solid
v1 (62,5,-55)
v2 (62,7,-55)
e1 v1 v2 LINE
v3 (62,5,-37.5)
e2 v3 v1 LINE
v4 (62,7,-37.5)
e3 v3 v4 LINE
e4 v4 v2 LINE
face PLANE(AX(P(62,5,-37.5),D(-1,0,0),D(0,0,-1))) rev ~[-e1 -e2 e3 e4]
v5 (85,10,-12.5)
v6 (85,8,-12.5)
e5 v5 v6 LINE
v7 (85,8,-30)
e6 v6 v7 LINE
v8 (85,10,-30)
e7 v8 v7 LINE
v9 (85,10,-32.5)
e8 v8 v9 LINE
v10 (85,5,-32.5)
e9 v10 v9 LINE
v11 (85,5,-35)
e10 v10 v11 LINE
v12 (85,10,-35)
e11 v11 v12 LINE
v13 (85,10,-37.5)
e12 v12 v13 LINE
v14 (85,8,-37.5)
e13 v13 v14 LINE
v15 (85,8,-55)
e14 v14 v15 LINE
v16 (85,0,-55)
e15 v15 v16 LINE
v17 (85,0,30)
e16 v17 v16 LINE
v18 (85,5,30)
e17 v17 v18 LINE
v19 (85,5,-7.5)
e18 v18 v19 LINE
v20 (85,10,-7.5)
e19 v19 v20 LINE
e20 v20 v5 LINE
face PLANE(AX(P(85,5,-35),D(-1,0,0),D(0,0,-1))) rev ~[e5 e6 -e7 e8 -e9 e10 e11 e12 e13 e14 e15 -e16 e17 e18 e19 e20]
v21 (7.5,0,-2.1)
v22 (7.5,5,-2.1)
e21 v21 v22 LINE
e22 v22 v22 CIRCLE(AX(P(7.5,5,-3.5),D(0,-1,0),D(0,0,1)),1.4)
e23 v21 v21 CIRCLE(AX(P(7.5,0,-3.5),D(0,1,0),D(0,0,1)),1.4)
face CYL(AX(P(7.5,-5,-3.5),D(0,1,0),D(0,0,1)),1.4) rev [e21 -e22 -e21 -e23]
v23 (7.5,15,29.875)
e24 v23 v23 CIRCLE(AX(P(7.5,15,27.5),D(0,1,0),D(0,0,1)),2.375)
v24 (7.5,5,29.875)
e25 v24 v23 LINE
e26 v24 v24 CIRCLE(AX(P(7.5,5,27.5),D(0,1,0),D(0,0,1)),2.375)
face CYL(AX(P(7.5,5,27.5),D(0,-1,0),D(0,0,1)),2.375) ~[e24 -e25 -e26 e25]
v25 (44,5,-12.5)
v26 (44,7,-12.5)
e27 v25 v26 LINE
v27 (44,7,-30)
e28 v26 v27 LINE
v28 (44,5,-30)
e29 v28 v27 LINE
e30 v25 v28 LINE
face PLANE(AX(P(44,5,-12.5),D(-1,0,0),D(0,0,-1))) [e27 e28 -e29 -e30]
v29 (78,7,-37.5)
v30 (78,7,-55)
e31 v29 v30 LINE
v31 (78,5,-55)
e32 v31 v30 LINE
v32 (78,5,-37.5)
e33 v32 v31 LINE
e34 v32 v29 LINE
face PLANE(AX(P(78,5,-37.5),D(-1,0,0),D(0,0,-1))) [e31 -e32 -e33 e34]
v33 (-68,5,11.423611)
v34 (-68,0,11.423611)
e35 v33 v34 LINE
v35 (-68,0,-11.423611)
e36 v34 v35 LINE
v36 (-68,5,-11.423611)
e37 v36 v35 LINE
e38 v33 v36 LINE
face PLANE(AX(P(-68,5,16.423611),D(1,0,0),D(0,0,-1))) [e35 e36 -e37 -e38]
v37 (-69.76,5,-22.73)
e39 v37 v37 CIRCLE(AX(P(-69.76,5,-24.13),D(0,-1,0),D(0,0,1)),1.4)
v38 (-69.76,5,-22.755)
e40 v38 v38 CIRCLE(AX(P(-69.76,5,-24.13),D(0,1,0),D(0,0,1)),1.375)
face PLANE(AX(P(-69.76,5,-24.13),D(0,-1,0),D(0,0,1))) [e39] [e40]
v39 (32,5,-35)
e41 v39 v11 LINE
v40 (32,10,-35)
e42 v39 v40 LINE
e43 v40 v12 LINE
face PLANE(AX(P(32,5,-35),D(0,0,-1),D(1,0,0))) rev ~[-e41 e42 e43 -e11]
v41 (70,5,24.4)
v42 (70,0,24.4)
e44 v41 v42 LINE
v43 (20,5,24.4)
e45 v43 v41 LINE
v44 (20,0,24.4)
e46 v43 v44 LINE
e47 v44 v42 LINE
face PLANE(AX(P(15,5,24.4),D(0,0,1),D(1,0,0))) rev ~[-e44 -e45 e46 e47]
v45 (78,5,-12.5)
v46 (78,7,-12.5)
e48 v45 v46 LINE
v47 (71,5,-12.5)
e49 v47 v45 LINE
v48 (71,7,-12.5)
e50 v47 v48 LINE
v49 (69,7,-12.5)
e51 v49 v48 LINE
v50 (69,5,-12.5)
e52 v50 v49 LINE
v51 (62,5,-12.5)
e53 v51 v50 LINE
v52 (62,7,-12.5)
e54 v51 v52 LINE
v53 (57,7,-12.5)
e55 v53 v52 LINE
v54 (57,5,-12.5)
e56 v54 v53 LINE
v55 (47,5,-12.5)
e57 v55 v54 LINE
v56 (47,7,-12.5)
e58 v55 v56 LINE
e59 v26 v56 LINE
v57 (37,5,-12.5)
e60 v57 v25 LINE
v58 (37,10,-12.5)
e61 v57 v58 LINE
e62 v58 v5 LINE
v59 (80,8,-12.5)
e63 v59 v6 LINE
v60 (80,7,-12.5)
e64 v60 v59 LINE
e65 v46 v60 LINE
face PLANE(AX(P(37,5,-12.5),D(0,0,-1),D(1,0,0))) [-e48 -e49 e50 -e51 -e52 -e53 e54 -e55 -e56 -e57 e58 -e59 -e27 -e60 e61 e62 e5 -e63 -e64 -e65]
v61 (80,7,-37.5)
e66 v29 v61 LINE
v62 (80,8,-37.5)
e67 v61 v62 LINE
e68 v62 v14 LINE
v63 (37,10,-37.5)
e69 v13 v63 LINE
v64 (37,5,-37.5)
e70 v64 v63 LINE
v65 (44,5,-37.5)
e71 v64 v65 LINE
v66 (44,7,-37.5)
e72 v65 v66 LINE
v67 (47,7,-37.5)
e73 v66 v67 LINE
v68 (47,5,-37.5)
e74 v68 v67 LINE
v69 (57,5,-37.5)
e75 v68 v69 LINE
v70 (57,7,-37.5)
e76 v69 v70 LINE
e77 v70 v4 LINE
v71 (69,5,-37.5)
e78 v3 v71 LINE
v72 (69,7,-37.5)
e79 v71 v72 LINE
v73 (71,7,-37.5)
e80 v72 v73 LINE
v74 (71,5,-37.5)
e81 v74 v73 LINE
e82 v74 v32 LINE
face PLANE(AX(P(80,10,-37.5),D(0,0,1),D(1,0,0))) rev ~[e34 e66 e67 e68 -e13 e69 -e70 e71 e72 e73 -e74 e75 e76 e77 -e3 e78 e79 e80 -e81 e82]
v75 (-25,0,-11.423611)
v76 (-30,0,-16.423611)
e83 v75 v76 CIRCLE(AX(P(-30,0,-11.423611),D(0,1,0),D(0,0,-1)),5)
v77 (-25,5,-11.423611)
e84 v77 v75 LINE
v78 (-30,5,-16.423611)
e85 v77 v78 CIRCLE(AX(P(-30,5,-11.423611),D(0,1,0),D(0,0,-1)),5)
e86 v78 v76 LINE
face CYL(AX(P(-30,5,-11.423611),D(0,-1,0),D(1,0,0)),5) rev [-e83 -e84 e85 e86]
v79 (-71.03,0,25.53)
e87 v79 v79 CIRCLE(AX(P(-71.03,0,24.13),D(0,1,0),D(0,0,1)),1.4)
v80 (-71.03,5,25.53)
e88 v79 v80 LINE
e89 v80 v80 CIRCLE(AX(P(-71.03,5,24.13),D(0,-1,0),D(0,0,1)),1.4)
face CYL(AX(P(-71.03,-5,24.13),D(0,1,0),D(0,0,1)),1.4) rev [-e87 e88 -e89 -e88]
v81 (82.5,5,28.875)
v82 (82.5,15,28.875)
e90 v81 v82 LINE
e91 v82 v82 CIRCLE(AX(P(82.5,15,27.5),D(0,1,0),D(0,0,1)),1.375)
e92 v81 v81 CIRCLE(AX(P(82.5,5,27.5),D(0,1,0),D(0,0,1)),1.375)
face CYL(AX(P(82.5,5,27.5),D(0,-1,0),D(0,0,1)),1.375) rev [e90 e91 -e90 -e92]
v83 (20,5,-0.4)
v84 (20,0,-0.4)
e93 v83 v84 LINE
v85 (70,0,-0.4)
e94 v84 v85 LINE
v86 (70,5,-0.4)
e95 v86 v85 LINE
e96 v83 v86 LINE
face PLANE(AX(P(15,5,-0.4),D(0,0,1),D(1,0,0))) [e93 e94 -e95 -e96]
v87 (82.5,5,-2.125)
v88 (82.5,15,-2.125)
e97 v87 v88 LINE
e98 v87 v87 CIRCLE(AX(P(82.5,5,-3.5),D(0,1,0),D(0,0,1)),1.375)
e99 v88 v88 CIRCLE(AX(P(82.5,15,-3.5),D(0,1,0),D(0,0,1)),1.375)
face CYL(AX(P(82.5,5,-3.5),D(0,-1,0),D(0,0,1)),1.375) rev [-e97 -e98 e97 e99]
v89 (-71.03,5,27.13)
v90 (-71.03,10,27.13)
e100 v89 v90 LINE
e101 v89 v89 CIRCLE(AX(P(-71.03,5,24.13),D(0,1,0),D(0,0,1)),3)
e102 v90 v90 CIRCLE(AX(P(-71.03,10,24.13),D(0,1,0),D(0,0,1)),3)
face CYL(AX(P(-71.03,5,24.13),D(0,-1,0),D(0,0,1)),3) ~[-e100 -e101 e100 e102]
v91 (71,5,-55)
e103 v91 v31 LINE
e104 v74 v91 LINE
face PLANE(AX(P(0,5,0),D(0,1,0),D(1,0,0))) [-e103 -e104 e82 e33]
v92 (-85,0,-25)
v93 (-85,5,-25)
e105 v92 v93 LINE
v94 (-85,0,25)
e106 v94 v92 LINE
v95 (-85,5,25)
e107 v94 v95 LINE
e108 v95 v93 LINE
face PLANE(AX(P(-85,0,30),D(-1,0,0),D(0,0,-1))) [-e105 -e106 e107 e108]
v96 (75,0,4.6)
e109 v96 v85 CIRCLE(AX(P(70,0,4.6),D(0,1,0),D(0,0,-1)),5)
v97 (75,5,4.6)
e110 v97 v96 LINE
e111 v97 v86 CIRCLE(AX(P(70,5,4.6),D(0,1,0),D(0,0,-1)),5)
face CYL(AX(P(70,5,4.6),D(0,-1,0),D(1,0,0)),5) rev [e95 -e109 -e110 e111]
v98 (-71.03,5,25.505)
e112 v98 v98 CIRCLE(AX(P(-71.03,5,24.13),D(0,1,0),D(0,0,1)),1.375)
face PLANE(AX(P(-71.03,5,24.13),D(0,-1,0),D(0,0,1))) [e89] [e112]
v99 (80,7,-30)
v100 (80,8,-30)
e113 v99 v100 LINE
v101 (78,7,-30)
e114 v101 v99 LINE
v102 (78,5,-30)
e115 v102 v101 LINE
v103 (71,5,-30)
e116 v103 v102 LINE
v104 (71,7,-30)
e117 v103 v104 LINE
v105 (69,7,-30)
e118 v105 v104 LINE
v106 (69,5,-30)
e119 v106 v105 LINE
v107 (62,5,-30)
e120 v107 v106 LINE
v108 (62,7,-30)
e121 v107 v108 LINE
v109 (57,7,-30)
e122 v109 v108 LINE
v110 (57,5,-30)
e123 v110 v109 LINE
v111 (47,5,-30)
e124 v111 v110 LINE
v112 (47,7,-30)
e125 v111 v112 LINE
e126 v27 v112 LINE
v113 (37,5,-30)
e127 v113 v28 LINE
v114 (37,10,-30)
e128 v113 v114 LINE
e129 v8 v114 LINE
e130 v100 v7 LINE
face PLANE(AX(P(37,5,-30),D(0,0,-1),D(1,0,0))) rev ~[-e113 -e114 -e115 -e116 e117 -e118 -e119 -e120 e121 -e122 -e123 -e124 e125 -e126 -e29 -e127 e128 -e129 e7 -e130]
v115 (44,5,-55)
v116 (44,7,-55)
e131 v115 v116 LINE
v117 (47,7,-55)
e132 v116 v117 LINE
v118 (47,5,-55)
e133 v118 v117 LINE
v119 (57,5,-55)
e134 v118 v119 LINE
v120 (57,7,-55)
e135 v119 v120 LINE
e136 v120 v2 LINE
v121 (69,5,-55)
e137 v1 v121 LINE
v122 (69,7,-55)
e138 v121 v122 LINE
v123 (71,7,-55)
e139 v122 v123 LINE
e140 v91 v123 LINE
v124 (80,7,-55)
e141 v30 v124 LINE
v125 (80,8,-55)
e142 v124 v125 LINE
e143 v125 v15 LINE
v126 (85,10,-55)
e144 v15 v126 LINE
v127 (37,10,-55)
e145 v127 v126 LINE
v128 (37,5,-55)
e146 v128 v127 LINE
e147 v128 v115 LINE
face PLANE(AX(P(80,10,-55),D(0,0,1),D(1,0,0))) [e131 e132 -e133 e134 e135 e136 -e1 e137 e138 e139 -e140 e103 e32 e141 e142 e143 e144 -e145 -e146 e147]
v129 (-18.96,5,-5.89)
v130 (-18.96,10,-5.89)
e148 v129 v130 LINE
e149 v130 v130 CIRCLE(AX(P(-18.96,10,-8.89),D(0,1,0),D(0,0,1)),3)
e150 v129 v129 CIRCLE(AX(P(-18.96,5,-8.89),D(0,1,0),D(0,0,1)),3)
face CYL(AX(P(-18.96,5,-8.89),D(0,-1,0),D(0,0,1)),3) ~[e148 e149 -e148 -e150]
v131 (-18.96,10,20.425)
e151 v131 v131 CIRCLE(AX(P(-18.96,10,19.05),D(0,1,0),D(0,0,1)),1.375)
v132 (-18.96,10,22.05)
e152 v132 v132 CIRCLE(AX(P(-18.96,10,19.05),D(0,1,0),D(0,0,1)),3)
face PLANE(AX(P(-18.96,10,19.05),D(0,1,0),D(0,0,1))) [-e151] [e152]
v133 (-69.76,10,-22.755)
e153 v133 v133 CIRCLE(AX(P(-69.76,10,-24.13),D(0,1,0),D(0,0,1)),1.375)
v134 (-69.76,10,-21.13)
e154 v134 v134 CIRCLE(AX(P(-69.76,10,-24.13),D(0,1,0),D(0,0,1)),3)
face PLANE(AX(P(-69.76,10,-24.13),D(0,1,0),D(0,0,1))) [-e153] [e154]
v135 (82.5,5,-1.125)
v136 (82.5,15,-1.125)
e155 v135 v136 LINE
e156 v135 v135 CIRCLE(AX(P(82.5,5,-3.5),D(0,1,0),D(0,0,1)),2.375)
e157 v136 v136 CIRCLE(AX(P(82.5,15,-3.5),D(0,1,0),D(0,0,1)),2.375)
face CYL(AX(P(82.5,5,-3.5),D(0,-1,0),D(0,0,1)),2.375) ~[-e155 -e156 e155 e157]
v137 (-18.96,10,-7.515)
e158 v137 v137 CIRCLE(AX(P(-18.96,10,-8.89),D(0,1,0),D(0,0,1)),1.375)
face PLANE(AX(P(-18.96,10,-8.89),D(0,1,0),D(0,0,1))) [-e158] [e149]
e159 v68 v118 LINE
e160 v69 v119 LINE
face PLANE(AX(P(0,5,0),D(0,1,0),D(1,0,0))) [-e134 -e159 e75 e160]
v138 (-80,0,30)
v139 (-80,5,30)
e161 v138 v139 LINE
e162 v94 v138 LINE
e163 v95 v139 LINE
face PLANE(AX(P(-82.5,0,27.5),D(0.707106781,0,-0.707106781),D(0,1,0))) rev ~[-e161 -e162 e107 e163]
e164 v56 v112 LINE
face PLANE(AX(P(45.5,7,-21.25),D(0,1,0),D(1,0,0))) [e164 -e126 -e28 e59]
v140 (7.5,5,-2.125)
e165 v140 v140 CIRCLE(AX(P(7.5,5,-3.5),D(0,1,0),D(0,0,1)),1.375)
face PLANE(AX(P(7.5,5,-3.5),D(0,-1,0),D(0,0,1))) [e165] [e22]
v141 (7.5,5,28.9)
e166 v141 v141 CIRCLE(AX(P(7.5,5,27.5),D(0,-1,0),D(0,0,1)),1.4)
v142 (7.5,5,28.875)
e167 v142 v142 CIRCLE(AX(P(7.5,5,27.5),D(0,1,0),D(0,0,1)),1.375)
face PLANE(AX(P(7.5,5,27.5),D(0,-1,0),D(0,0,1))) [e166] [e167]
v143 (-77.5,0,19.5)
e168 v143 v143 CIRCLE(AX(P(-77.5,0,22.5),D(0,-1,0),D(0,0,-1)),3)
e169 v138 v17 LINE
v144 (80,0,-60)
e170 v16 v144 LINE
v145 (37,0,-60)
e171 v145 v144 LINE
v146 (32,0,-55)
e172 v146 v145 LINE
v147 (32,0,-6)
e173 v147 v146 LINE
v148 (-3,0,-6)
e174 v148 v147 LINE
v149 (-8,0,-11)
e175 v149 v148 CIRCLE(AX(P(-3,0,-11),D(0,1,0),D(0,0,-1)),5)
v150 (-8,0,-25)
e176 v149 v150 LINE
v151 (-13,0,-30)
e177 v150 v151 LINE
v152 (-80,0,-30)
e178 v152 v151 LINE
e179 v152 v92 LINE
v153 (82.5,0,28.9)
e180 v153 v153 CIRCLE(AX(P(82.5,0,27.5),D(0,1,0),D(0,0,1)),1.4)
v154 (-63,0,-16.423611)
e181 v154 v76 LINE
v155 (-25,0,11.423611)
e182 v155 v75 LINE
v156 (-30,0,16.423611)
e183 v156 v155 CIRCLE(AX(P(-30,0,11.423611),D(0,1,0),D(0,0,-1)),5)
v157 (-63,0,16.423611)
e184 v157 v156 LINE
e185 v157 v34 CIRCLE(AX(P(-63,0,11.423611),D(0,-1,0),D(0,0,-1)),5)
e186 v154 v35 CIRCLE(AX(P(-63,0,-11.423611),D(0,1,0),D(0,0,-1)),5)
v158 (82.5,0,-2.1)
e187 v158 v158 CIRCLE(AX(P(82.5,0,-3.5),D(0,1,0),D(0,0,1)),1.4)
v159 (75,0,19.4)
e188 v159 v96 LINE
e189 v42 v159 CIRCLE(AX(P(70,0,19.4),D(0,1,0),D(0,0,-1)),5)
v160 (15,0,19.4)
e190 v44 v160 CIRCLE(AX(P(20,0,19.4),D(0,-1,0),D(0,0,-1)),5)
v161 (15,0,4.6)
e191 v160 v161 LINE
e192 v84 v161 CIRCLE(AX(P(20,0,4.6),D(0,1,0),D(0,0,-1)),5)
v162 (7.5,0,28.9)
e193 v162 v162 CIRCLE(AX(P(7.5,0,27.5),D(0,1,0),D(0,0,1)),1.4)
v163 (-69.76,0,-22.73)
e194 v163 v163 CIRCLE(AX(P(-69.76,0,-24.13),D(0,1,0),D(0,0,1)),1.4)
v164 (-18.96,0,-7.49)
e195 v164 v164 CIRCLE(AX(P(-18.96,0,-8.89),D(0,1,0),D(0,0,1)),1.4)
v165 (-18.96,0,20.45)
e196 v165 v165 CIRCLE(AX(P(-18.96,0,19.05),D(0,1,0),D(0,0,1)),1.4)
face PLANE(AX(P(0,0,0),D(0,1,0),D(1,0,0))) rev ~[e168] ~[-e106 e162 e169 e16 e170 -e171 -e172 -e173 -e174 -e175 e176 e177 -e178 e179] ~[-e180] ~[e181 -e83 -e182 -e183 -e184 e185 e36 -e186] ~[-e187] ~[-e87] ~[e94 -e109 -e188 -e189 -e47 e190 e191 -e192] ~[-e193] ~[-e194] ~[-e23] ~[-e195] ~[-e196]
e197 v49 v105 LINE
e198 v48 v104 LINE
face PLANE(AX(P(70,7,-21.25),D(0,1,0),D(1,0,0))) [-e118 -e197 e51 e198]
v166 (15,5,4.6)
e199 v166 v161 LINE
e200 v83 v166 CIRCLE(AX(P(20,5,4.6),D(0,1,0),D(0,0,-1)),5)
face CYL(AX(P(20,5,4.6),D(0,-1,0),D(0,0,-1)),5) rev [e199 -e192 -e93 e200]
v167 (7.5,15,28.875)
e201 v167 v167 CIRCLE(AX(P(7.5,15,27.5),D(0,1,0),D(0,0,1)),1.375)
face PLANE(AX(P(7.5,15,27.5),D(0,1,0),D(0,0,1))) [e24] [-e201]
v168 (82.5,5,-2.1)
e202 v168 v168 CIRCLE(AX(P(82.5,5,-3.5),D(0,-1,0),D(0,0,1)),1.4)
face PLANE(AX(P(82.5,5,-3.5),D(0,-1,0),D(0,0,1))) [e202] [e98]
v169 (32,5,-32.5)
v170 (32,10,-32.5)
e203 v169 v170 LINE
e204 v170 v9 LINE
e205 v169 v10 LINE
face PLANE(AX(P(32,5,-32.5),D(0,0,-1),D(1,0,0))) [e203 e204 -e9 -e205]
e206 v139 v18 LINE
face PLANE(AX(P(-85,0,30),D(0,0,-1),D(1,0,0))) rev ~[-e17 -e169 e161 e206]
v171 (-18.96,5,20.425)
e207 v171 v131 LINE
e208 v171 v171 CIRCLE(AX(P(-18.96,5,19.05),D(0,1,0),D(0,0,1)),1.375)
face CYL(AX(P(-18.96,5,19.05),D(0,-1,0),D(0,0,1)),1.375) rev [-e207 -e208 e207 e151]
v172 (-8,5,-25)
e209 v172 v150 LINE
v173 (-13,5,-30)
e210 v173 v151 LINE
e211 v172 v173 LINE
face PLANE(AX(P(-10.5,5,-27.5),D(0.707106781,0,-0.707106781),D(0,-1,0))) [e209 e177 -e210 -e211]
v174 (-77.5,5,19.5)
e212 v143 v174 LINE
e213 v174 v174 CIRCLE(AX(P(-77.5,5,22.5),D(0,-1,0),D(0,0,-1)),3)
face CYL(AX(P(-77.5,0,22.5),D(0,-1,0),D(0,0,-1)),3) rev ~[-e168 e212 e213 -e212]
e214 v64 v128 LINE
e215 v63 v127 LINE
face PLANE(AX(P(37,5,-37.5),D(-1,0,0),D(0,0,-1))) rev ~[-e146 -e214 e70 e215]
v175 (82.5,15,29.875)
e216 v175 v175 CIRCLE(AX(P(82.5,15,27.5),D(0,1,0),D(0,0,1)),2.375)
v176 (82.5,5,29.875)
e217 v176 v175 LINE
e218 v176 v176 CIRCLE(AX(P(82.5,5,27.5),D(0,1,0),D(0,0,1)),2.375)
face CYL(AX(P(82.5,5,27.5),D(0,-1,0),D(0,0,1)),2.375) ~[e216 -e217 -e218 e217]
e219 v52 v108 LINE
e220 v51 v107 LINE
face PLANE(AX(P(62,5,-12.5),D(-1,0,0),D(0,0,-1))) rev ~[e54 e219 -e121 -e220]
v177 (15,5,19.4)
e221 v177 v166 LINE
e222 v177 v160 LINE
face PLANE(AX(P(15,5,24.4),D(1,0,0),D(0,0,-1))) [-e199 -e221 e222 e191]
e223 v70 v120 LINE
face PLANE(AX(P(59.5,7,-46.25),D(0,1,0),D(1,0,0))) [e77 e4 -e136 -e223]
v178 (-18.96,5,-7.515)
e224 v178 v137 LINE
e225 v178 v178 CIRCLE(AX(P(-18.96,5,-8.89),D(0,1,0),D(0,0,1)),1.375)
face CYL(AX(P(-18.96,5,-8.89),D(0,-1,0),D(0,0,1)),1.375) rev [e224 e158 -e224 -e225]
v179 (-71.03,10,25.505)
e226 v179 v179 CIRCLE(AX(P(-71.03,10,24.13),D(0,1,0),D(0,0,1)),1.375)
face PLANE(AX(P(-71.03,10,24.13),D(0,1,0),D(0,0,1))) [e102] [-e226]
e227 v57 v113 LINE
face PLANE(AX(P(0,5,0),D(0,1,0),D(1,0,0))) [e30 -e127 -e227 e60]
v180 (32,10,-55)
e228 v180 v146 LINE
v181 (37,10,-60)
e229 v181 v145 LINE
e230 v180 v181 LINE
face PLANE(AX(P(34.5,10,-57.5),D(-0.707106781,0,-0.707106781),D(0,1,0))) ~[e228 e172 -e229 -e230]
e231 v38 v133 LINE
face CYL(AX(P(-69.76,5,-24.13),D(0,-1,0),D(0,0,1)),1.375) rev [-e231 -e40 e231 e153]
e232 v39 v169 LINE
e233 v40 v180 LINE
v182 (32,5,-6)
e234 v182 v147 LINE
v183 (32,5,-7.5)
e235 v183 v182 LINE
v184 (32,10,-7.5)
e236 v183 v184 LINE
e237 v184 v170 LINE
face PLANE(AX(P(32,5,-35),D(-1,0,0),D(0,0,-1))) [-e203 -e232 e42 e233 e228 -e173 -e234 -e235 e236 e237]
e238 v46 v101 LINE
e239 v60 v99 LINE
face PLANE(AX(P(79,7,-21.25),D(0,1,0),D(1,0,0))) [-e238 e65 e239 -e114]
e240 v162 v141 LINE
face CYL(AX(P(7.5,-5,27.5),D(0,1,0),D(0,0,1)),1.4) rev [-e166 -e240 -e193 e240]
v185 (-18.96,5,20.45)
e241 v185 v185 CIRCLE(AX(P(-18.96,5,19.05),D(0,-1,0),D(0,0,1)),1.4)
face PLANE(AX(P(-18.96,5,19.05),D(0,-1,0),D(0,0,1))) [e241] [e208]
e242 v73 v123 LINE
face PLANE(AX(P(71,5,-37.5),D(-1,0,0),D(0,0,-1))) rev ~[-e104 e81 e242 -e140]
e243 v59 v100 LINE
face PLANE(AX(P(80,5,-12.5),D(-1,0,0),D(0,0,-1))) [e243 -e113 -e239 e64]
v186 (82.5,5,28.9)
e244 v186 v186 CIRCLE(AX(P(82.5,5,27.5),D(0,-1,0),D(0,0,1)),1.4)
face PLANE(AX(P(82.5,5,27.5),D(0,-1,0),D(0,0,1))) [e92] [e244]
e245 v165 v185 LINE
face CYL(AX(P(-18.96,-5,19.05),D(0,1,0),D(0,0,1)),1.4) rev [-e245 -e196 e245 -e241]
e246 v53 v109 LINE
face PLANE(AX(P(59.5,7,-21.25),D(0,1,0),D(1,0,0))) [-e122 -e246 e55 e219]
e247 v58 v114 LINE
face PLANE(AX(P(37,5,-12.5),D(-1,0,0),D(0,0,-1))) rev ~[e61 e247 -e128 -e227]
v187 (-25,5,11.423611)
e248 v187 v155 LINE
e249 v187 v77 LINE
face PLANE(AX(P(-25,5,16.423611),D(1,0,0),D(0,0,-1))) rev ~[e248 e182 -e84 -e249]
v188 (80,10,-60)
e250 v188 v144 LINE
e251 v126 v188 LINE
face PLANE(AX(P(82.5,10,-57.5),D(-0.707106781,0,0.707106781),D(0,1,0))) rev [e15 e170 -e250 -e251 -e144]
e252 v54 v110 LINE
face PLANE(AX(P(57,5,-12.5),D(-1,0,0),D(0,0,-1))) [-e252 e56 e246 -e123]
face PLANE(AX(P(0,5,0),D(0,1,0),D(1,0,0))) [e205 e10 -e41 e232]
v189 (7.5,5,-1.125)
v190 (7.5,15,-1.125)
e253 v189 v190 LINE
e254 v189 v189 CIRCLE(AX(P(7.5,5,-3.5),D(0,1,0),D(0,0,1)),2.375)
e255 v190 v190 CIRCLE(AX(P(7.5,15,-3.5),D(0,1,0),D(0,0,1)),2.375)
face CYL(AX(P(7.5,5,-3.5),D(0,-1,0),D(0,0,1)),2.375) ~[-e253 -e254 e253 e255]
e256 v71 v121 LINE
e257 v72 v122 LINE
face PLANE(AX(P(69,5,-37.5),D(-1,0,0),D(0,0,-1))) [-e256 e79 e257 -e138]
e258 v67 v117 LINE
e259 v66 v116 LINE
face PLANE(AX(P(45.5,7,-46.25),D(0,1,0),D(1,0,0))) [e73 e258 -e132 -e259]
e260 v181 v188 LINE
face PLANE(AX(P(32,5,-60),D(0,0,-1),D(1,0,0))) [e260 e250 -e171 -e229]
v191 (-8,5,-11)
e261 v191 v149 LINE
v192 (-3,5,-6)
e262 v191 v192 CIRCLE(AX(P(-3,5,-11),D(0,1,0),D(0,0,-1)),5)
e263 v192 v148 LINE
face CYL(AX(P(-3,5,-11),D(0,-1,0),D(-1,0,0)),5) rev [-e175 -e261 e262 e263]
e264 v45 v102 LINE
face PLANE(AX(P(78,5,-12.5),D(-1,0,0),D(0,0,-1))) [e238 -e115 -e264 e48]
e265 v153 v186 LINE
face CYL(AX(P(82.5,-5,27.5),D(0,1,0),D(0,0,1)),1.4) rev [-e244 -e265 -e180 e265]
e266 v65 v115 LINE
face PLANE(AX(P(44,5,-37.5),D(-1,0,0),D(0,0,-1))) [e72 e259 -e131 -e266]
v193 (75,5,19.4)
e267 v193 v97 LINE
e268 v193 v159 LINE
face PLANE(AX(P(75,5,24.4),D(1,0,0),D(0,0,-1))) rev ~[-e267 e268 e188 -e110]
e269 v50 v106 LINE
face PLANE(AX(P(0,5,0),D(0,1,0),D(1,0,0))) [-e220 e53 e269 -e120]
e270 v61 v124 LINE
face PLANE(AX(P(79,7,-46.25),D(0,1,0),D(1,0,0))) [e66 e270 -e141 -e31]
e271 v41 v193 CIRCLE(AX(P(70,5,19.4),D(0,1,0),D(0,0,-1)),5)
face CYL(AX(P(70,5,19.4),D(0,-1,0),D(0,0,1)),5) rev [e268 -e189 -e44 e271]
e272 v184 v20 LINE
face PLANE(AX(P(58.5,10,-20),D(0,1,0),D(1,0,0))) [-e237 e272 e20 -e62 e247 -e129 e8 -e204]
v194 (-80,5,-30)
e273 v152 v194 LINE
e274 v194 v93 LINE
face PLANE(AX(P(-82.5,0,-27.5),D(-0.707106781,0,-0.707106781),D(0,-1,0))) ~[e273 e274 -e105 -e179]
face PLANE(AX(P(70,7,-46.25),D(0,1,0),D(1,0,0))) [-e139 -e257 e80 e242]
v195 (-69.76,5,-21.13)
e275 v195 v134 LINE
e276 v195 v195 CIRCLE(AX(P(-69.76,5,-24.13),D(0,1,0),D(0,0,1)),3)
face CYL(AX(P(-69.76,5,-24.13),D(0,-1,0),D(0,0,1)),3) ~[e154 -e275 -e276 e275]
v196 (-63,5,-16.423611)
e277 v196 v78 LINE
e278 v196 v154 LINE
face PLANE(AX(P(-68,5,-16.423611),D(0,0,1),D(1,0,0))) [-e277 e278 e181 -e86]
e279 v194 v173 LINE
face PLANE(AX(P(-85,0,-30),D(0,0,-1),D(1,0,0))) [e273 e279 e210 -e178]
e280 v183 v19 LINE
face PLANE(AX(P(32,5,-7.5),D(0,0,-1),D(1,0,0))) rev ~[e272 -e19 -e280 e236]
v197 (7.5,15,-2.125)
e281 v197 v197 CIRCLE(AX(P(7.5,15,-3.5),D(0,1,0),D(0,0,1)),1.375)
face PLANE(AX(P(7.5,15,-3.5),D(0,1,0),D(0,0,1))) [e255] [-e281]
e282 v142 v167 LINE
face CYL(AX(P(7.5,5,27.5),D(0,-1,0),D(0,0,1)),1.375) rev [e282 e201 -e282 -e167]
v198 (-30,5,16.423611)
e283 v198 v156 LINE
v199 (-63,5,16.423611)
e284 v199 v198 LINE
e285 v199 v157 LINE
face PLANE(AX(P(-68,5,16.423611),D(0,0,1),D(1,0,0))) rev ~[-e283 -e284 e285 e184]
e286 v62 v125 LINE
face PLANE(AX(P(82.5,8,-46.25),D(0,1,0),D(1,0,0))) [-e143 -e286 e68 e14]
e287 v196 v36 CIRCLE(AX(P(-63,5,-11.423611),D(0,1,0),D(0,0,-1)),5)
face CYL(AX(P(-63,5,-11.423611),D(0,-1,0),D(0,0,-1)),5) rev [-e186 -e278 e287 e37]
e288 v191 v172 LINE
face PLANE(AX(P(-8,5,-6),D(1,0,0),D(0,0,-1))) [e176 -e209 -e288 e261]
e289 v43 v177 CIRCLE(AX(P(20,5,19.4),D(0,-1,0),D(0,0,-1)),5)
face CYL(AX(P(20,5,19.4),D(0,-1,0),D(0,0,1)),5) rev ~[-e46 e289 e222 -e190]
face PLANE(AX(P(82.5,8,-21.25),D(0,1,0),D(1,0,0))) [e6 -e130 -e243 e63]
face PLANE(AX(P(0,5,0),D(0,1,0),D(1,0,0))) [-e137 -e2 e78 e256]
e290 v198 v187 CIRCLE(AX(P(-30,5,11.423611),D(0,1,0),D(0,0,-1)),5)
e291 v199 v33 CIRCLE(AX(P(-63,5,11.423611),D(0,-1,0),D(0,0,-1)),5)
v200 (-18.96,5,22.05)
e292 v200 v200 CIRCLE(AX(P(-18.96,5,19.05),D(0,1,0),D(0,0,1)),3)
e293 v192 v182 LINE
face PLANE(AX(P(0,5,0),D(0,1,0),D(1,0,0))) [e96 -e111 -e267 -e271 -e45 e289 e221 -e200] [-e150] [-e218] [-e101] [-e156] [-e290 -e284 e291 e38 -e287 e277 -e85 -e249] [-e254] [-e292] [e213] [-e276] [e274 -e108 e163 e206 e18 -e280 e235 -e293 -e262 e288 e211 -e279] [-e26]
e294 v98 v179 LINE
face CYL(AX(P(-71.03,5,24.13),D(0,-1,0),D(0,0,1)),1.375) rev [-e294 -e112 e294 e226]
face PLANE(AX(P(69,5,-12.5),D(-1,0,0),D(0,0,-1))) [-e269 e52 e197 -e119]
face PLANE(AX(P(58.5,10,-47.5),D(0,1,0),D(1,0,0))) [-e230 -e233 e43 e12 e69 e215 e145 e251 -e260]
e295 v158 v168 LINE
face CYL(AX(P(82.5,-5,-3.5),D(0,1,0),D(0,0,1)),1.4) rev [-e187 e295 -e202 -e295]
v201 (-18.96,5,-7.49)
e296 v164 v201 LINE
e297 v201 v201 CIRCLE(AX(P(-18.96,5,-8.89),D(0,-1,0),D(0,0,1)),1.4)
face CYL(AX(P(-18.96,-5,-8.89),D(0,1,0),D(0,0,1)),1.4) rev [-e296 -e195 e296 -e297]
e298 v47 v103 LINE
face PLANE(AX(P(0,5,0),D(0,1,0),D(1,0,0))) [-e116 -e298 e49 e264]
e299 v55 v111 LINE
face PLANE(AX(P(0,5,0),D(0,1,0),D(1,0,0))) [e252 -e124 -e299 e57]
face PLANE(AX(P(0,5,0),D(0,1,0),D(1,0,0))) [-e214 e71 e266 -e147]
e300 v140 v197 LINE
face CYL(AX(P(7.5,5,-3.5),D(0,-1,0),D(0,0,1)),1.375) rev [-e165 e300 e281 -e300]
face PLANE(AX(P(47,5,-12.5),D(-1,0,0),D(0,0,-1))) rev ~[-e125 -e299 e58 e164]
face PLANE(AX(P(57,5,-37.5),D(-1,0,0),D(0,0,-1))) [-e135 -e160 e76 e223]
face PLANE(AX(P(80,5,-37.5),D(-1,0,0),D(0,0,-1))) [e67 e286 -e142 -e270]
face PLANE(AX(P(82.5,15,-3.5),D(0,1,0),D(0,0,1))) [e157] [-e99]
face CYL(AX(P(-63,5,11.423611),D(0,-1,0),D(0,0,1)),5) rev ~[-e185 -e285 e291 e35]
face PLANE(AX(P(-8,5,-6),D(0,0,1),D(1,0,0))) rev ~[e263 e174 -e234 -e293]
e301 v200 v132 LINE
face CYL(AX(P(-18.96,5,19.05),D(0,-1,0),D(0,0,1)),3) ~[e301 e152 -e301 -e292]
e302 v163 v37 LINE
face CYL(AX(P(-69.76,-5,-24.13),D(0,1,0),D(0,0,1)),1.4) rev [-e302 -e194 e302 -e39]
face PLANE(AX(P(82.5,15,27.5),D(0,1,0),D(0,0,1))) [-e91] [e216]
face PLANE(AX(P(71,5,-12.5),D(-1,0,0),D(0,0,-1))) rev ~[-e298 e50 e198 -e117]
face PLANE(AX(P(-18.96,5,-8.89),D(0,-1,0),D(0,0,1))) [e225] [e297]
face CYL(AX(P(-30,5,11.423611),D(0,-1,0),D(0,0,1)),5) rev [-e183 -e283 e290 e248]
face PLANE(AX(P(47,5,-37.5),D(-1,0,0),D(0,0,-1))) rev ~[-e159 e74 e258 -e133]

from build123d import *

# Parameters (mm, degrees)
SKETCH1_W                           = 170
SKETCH1_H                           = 60
SKETCH1_W_2                         = 53
SKETCH1_H_2                         = 30
BOSS_EXTRUDE1_DEPTH                 = 5
SKETCH3_W                           = 40
SKETCH3_H                           = 24
CUT_EXTRUDE1_DEPTH                  = 5
SKETCH5_R                           = 3
CUT_EXTRUDE2_DEPTH                  = 10
SKETCH6_R                           = 3
SKETCH6_R_2                         = 1.375
BOSS_EXTRUDE2_DEPTH                 = 5
SKETCH8_R                           = 2.375
SKETCH8_R_2                         = 1.375
BOSS_EXTRUDE3_DEPTH                 = 10
SKETCH9_W                           = 53
SKETCH9_H                           = 25
SKETCH9_W_2                         = 43
SKETCH9_H_2                         = 17.5
BOSS_EXTRUDE4_DEPTH                 = 5
SKETCH10_W                          = 3
SKETCH10_H                          = 17.5
SKETCH10_W_2                        = 5
SKETCH10_W_3                        = 2
BOSS_EXTRUDE5_DEPTH                 = 2
SKETCH11_W                          = 5
SKETCH11_H                          = 17.5
CUT_EXTRUDE5_DEPTH                  = 2
CHAMFER1_SIZE                       = 5
FILLET1_R                           = 5
SKETCH12_W                          = 43
SKETCH12_H                          = 32.847222222
SKETCH12_W_2                        = 60
SKETCH12_H_2                        = 24.8
CUT_EXTRUDE6_DEPTH                  = 105.522724802
FILLET2_R                           = 5
F_2_8_2_8_DIAMETER_HOLE1_AT_2_COUNT = 2
F_2_8_2_8_DIAMETER_HOLE1_AT_2_PITCH = 53.036757065
F_2_8_2_8_DIAMETER_HOLE1_AT_3_COUNT = 2
F_2_8_2_8_DIAMETER_HOLE1_AT_3_PITCH = 79.966896276
F_2_8_2_8_DIAMETER_HOLE1_AT_4_COUNT = 2
F_2_8_2_8_DIAMETER_HOLE1_AT_4_PITCH = 48.276707634
F_2_8_2_8_DIAMETER_HOLE1_AT_5_COUNT = 2
F_2_8_2_8_DIAMETER_HOLE1_AT_5_PITCH = 66.671976122
F_2_8_2_8_DIAMETER_HOLE1_AT_6_COUNT = 2
F_2_8_2_8_DIAMETER_HOLE1_AT_6_PITCH = 92.923433535
F_2_8_2_8_DIAMETER_HOLE1_AT_7_COUNT = 2
F_2_8_2_8_DIAMETER_HOLE1_AT_7_PITCH = 160.77550964
F_2_8_2_8_DIAMETER_HOLE1_AT_8_COUNT = 2
F_2_8_2_8_DIAMETER_HOLE1_AT_8_PITCH = 153.65124308


with BuildPart() as part:
    # Sketch1 → Boss-Extrude1 (new body)
    with BuildSketch(Plane(origin=(0, 0, 0), x_dir=(1, 0, 0), z_dir=(0, 1, 0))):
        Rectangle(SKETCH1_W, SKETCH1_H)
        with Locations((58.5, 45)):
            Rectangle(SKETCH1_W_2, SKETCH1_H_2)
    extrude(amount=BOSS_EXTRUDE1_DEPTH)

    # Sketch3 → Cut-Extrude1 (cut)
    with BuildSketch(Plane(origin=(0, 5, 0), x_dir=(1, 0, 0), z_dir=(0, 1, 0))):
        with Locations((12, 18)):
            Rectangle(SKETCH3_W, SKETCH3_H)
    extrude(amount=-CUT_EXTRUDE1_DEPTH, mode=Mode.SUBTRACT)

    # Sketch5 → Cut-Extrude2 (cut)
    with BuildSketch(Plane.XZ):
        with Locations(Location((-77.5, 22.5, 0), (0, 0, 270))):
            Circle(SKETCH5_R)
    extrude(amount=-CUT_EXTRUDE2_DEPTH, mode=Mode.SUBTRACT)

    # Sketch6 → Boss-Extrude2 (add)
    # profile 1 of 4: a face of its own
    with BuildSketch(Plane(origin=(0, 5, 0), x_dir=(1, 0, 0), z_dir=(0, 1, 0))):
        with Locations(Location((-71.03, -24.13, 0), (0, 0, 270))):
            Circle(SKETCH6_R)
        with Locations(Location((-71.03, -24.13, 0), (0, 0, 270))):
            Circle(SKETCH6_R_2, mode=Mode.SUBTRACT)
    # profile 2 of 4: a face of its own
    with BuildSketch(Plane(origin=(0, 5, 0), x_dir=(1, 0, 0), z_dir=(0, 1, 0))):
        with Locations(Location((-69.76, 24.13, 0), (0, 0, 270))):
            Circle(SKETCH6_R)
        with Locations(Location((-69.76, 24.13, 0), (0, 0, 270))):
            Circle(SKETCH6_R_2, mode=Mode.SUBTRACT)
    # profile 3 of 4: a face of its own
    with BuildSketch(Plane(origin=(0, 5, 0), x_dir=(1, 0, 0), z_dir=(0, 1, 0))):
        with Locations(Location((-18.96, -19.05, 0), (0, 0, 270))):
            Circle(SKETCH6_R)
        with Locations(Location((-18.96, -19.05, 0), (0, 0, 270))):
            Circle(SKETCH6_R_2, mode=Mode.SUBTRACT)
    # profile 4 of 4: a face of its own
    with BuildSketch(Plane(origin=(0, 5, 0), x_dir=(1, 0, 0), z_dir=(0, 1, 0))):
        with Locations(Location((-18.96, 8.89, 0), (0, 0, 270))):
            Circle(SKETCH6_R)
        with Locations(Location((-18.96, 8.89, 0), (0, 0, 270))):
            Circle(SKETCH6_R_2, mode=Mode.SUBTRACT)
    extrude(amount=BOSS_EXTRUDE2_DEPTH)

    # Sketch8 → Boss-Extrude3 (add)
    # profile 1 of 4: a face of its own
    with BuildSketch(Plane(origin=(0, 5, 0), x_dir=(1, 0, 0), z_dir=(0, 1, 0))):
        with Locations(Location((7.5, 3.5, 0), (0, 0, 270))):
            Circle(SKETCH8_R)
        with Locations(Location((7.5, 3.5, 0), (0, 0, 270))):
            Circle(SKETCH8_R_2, mode=Mode.SUBTRACT)
    # profile 2 of 4: a face of its own
    with BuildSketch(Plane(origin=(0, 5, 0), x_dir=(1, 0, 0), z_dir=(0, 1, 0))):
        with Locations(Location((7.5, -27.5, 0), (0, 0, 270))):
            Circle(SKETCH8_R)
        with Locations(Location((7.5, -27.5, 0), (0, 0, 270))):
            Circle(SKETCH8_R_2, mode=Mode.SUBTRACT)
    # profile 3 of 4: a face of its own
    with BuildSketch(Plane(origin=(0, 5, 0), x_dir=(1, 0, 0), z_dir=(0, 1, 0))):
        with Locations(Location((82.5, -27.5, 0), (0, 0, 270))):
            Circle(SKETCH8_R)
        with Locations(Location((82.5, -27.5, 0), (0, 0, 270))):
            Circle(SKETCH8_R_2, mode=Mode.SUBTRACT)
    # profile 4 of 4: a face of its own
    with BuildSketch(Plane(origin=(0, 5, 0), x_dir=(1, 0, 0), z_dir=(0, 1, 0))):
        with Locations(Location((82.5, 3.5, 0), (0, 0, 270))):
            Circle(SKETCH8_R)
        with Locations(Location((82.5, 3.5, 0), (0, 0, 270))):
            Circle(SKETCH8_R_2, mode=Mode.SUBTRACT)
    extrude(amount=BOSS_EXTRUDE3_DEPTH)

    # Sketch9 → Boss-Extrude4 (add)
    # profile 1 of 2: a face of its own
    with BuildSketch(Plane(origin=(0, 5, 0), x_dir=(1, 0, 0), z_dir=(0, 1, 0))):
        with Locations((58.5, 47.5)):
            Rectangle(SKETCH9_W, SKETCH9_H)
        with Locations((58.5, 46.25)):
            Rectangle(SKETCH9_W_2, SKETCH9_H_2, mode=Mode.SUBTRACT)
    # profile 2 of 2: a face of its own
    with BuildSketch(Plane(origin=(0, 5, 0), x_dir=(1, 0, 0), z_dir=(0, 1, 0))):
        with Locations((58.5, 20)):
            Rectangle(SKETCH9_W, SKETCH9_H)
        with Locations((58.5, 21.25)):
            Rectangle(SKETCH9_W_2, SKETCH9_H_2, mode=Mode.SUBTRACT)
    extrude(amount=BOSS_EXTRUDE4_DEPTH)

    # Sketch10 → Boss-Extrude5 (add)
    with BuildSketch(Plane(origin=(0, 5, 0), x_dir=(1, 0, 0), z_dir=(0, 1, 0))):
        with Locations((45.5, 21.25)):
            Rectangle(SKETCH10_W, SKETCH10_H)
        with Locations((59.5, 21.25)):
            Rectangle(SKETCH10_W_2, SKETCH10_H)
        with Locations((70, 21.25)):
            Rectangle(SKETCH10_W_3, SKETCH10_H)
        with Locations((45.5, 46.25)):
            Rectangle(SKETCH10_W, SKETCH10_H)
        with Locations((59.5, 46.25)):
            Rectangle(SKETCH10_W_2, SKETCH10_H)
        with Locations((70, 46.25)):
            Rectangle(SKETCH10_W_3, SKETCH10_H)
        with Locations((79, 21.25)):
            Rectangle(SKETCH10_W_3, SKETCH10_H)
        with Locations((79, 46.25)):
            Rectangle(SKETCH10_W_3, SKETCH10_H)
    extrude(amount=BOSS_EXTRUDE5_DEPTH)

    # Sketch11 → Cut-Extrude5 (cut)
    with BuildSketch(Plane(origin=(0, 10, 0), x_dir=(1, 0, 0), z_dir=(0, 1, 0))):
        with Locations((82.5, 21.25)):
            Rectangle(SKETCH11_W, SKETCH11_H)
        with Locations((82.5, 46.25)):
            Rectangle(SKETCH11_W, SKETCH11_H)
    extrude(amount=-CUT_EXTRUDE5_DEPTH, mode=Mode.SUBTRACT)

    # Chamfer1
    chamfer1_edges = [part.edges().sort_by_distance(p)[0] for p in [
        (-85, 2.5, 30),
        (-85, 2.5, -30),
        (-8, 2.5, -30),
        (32, 5, -60),
        (85, 5, -60),
    ]]
    chamfer(chamfer1_edges, length=CHAMFER1_SIZE)

    # Fillet1
    fillet1_edges = [part.edges().sort_by_distance(p)[0] for p in [
        (-8, 2.5, -6),
    ]]
    fillet(fillet1_edges, radius=FILLET1_R)

    # Sketch12 → Cut-Extrude6 (cut, through all)
    with BuildSketch(Plane(origin=(0, 5, 0), x_dir=(1, 0, 0), z_dir=(0, 1, 0))):
        with Locations((-46.5, 0)):
            Rectangle(SKETCH12_W, SKETCH12_H)
        with Locations((45, -12)):
            Rectangle(SKETCH12_W_2, SKETCH12_H_2)
    extrude(amount=-CUT_EXTRUDE6_DEPTH, mode=Mode.SUBTRACT)

    # Fillet2
    fillet2_edges = [part.edges().sort_by_distance(p)[0] for p in [
        (-25, 2.5, -16.423611111),
        (-25, 2.5, 16.423611111),
        (-68, 2.5, 16.423611111),
        (-68, 2.5, -16.423611111),
        (75, 2.5, -0.4),
        (75, 2.5, 24.4),
        (15, 2.5, 24.4),
        (15, 2.5, -0.4),
    ]]
    fillet(fillet2_edges, radius=FILLET2_R)

    # Sketch14 → Ø2.8 (2.8) Diameter Hole1 (revolve, cut)
    with BuildSketch(Plane(origin=(-69.76, 5, -24.13), x_dir=(0, 0, 1), z_dir=(1, 0, 0))):
        Polygon((0, 0), (0, 10.841204867), (1.4, 10), (1.4, 0), align=None)
    f_2_8_2_8_diameter_hole1 = revolve(axis=Axis((-69.76, 11.35, -24.13), (0, -1, 0)), mode=Mode.SUBTRACT)

    # Ø2.8 (2.8) Diameter Hole1 at 2: Ø2.8 (2.8) Diameter Hole1 ×2
    with Locations(*[Vector(0.9578262852211514, 0, 0.2873478855663455) * (i * F_2_8_2_8_DIAMETER_HOLE1_AT_2_PITCH) for i in range(1, F_2_8_2_8_DIAMETER_HOLE1_AT_2_COUNT)]):
        add(f_2_8_2_8_diameter_hole1, mode=Mode.SUBTRACT)

    # Ø2.8 (2.8) Diameter Hole1 at 3: Ø2.8 (2.8) Diameter Hole1 ×2
    with Locations(*[Vector(0.9661497894509072, 0, 0.2579817519592574) * (i * F_2_8_2_8_DIAMETER_HOLE1_AT_3_PITCH) for i in range(1, F_2_8_2_8_DIAMETER_HOLE1_AT_3_COUNT)]):
        add(f_2_8_2_8_diameter_hole1, mode=Mode.SUBTRACT)

    # Ø2.8 (2.8) Diameter Hole1 at 4: Ø2.8 (2.8) Diameter Hole1 ×2
    with Locations(*[Vector(-0.02630668208823303, 0, 0.9996539193528472) * (i * F_2_8_2_8_DIAMETER_HOLE1_AT_4_PITCH) for i in range(1, F_2_8_2_8_DIAMETER_HOLE1_AT_4_COUNT)]):
        add(f_2_8_2_8_diameter_hole1, mode=Mode.SUBTRACT)

    # Ø2.8 (2.8) Diameter Hole1 at 5: Ø2.8 (2.8) Diameter Hole1 ×2
    with Locations(*[Vector(0.7619393177594593, 0, 0.6476484200955406) * (i * F_2_8_2_8_DIAMETER_HOLE1_AT_5_PITCH) for i in range(1, F_2_8_2_8_DIAMETER_HOLE1_AT_5_COUNT)]):
        add(f_2_8_2_8_diameter_hole1, mode=Mode.SUBTRACT)

    # Ø2.8 (2.8) Diameter Hole1 at 6: Ø2.8 (2.8) Diameter Hole1 ×2
    with Locations(*[Vector(0.8314372065320044, 0, 0.5556187286208567) * (i * F_2_8_2_8_DIAMETER_HOLE1_AT_6_PITCH) for i in range(1, F_2_8_2_8_DIAMETER_HOLE1_AT_6_COUNT)]):
        add(f_2_8_2_8_diameter_hole1, mode=Mode.SUBTRACT)

    # Ø2.8 (2.8) Diameter Hole1 at 7: Ø2.8 (2.8) Diameter Hole1 ×2
    with Locations(*[Vector(0.9470347837238248, 0, 0.3211309988418566) * (i * F_2_8_2_8_DIAMETER_HOLE1_AT_7_PITCH) for i in range(1, F_2_8_2_8_DIAMETER_HOLE1_AT_7_COUNT)]):
        add(f_2_8_2_8_diameter_hole1, mode=Mode.SUBTRACT)

    # Ø2.8 (2.8) Diameter Hole1 at 8: Ø2.8 (2.8) Diameter Hole1 ×2
    with Locations(*[Vector(0.99094544858852, 0, 0.13426510314187035) * (i * F_2_8_2_8_DIAMETER_HOLE1_AT_8_PITCH) for i in range(1, F_2_8_2_8_DIAMETER_HOLE1_AT_8_COUNT)]):
        add(f_2_8_2_8_diameter_hole1, mode=Mode.SUBTRACT)


solid = part.part
